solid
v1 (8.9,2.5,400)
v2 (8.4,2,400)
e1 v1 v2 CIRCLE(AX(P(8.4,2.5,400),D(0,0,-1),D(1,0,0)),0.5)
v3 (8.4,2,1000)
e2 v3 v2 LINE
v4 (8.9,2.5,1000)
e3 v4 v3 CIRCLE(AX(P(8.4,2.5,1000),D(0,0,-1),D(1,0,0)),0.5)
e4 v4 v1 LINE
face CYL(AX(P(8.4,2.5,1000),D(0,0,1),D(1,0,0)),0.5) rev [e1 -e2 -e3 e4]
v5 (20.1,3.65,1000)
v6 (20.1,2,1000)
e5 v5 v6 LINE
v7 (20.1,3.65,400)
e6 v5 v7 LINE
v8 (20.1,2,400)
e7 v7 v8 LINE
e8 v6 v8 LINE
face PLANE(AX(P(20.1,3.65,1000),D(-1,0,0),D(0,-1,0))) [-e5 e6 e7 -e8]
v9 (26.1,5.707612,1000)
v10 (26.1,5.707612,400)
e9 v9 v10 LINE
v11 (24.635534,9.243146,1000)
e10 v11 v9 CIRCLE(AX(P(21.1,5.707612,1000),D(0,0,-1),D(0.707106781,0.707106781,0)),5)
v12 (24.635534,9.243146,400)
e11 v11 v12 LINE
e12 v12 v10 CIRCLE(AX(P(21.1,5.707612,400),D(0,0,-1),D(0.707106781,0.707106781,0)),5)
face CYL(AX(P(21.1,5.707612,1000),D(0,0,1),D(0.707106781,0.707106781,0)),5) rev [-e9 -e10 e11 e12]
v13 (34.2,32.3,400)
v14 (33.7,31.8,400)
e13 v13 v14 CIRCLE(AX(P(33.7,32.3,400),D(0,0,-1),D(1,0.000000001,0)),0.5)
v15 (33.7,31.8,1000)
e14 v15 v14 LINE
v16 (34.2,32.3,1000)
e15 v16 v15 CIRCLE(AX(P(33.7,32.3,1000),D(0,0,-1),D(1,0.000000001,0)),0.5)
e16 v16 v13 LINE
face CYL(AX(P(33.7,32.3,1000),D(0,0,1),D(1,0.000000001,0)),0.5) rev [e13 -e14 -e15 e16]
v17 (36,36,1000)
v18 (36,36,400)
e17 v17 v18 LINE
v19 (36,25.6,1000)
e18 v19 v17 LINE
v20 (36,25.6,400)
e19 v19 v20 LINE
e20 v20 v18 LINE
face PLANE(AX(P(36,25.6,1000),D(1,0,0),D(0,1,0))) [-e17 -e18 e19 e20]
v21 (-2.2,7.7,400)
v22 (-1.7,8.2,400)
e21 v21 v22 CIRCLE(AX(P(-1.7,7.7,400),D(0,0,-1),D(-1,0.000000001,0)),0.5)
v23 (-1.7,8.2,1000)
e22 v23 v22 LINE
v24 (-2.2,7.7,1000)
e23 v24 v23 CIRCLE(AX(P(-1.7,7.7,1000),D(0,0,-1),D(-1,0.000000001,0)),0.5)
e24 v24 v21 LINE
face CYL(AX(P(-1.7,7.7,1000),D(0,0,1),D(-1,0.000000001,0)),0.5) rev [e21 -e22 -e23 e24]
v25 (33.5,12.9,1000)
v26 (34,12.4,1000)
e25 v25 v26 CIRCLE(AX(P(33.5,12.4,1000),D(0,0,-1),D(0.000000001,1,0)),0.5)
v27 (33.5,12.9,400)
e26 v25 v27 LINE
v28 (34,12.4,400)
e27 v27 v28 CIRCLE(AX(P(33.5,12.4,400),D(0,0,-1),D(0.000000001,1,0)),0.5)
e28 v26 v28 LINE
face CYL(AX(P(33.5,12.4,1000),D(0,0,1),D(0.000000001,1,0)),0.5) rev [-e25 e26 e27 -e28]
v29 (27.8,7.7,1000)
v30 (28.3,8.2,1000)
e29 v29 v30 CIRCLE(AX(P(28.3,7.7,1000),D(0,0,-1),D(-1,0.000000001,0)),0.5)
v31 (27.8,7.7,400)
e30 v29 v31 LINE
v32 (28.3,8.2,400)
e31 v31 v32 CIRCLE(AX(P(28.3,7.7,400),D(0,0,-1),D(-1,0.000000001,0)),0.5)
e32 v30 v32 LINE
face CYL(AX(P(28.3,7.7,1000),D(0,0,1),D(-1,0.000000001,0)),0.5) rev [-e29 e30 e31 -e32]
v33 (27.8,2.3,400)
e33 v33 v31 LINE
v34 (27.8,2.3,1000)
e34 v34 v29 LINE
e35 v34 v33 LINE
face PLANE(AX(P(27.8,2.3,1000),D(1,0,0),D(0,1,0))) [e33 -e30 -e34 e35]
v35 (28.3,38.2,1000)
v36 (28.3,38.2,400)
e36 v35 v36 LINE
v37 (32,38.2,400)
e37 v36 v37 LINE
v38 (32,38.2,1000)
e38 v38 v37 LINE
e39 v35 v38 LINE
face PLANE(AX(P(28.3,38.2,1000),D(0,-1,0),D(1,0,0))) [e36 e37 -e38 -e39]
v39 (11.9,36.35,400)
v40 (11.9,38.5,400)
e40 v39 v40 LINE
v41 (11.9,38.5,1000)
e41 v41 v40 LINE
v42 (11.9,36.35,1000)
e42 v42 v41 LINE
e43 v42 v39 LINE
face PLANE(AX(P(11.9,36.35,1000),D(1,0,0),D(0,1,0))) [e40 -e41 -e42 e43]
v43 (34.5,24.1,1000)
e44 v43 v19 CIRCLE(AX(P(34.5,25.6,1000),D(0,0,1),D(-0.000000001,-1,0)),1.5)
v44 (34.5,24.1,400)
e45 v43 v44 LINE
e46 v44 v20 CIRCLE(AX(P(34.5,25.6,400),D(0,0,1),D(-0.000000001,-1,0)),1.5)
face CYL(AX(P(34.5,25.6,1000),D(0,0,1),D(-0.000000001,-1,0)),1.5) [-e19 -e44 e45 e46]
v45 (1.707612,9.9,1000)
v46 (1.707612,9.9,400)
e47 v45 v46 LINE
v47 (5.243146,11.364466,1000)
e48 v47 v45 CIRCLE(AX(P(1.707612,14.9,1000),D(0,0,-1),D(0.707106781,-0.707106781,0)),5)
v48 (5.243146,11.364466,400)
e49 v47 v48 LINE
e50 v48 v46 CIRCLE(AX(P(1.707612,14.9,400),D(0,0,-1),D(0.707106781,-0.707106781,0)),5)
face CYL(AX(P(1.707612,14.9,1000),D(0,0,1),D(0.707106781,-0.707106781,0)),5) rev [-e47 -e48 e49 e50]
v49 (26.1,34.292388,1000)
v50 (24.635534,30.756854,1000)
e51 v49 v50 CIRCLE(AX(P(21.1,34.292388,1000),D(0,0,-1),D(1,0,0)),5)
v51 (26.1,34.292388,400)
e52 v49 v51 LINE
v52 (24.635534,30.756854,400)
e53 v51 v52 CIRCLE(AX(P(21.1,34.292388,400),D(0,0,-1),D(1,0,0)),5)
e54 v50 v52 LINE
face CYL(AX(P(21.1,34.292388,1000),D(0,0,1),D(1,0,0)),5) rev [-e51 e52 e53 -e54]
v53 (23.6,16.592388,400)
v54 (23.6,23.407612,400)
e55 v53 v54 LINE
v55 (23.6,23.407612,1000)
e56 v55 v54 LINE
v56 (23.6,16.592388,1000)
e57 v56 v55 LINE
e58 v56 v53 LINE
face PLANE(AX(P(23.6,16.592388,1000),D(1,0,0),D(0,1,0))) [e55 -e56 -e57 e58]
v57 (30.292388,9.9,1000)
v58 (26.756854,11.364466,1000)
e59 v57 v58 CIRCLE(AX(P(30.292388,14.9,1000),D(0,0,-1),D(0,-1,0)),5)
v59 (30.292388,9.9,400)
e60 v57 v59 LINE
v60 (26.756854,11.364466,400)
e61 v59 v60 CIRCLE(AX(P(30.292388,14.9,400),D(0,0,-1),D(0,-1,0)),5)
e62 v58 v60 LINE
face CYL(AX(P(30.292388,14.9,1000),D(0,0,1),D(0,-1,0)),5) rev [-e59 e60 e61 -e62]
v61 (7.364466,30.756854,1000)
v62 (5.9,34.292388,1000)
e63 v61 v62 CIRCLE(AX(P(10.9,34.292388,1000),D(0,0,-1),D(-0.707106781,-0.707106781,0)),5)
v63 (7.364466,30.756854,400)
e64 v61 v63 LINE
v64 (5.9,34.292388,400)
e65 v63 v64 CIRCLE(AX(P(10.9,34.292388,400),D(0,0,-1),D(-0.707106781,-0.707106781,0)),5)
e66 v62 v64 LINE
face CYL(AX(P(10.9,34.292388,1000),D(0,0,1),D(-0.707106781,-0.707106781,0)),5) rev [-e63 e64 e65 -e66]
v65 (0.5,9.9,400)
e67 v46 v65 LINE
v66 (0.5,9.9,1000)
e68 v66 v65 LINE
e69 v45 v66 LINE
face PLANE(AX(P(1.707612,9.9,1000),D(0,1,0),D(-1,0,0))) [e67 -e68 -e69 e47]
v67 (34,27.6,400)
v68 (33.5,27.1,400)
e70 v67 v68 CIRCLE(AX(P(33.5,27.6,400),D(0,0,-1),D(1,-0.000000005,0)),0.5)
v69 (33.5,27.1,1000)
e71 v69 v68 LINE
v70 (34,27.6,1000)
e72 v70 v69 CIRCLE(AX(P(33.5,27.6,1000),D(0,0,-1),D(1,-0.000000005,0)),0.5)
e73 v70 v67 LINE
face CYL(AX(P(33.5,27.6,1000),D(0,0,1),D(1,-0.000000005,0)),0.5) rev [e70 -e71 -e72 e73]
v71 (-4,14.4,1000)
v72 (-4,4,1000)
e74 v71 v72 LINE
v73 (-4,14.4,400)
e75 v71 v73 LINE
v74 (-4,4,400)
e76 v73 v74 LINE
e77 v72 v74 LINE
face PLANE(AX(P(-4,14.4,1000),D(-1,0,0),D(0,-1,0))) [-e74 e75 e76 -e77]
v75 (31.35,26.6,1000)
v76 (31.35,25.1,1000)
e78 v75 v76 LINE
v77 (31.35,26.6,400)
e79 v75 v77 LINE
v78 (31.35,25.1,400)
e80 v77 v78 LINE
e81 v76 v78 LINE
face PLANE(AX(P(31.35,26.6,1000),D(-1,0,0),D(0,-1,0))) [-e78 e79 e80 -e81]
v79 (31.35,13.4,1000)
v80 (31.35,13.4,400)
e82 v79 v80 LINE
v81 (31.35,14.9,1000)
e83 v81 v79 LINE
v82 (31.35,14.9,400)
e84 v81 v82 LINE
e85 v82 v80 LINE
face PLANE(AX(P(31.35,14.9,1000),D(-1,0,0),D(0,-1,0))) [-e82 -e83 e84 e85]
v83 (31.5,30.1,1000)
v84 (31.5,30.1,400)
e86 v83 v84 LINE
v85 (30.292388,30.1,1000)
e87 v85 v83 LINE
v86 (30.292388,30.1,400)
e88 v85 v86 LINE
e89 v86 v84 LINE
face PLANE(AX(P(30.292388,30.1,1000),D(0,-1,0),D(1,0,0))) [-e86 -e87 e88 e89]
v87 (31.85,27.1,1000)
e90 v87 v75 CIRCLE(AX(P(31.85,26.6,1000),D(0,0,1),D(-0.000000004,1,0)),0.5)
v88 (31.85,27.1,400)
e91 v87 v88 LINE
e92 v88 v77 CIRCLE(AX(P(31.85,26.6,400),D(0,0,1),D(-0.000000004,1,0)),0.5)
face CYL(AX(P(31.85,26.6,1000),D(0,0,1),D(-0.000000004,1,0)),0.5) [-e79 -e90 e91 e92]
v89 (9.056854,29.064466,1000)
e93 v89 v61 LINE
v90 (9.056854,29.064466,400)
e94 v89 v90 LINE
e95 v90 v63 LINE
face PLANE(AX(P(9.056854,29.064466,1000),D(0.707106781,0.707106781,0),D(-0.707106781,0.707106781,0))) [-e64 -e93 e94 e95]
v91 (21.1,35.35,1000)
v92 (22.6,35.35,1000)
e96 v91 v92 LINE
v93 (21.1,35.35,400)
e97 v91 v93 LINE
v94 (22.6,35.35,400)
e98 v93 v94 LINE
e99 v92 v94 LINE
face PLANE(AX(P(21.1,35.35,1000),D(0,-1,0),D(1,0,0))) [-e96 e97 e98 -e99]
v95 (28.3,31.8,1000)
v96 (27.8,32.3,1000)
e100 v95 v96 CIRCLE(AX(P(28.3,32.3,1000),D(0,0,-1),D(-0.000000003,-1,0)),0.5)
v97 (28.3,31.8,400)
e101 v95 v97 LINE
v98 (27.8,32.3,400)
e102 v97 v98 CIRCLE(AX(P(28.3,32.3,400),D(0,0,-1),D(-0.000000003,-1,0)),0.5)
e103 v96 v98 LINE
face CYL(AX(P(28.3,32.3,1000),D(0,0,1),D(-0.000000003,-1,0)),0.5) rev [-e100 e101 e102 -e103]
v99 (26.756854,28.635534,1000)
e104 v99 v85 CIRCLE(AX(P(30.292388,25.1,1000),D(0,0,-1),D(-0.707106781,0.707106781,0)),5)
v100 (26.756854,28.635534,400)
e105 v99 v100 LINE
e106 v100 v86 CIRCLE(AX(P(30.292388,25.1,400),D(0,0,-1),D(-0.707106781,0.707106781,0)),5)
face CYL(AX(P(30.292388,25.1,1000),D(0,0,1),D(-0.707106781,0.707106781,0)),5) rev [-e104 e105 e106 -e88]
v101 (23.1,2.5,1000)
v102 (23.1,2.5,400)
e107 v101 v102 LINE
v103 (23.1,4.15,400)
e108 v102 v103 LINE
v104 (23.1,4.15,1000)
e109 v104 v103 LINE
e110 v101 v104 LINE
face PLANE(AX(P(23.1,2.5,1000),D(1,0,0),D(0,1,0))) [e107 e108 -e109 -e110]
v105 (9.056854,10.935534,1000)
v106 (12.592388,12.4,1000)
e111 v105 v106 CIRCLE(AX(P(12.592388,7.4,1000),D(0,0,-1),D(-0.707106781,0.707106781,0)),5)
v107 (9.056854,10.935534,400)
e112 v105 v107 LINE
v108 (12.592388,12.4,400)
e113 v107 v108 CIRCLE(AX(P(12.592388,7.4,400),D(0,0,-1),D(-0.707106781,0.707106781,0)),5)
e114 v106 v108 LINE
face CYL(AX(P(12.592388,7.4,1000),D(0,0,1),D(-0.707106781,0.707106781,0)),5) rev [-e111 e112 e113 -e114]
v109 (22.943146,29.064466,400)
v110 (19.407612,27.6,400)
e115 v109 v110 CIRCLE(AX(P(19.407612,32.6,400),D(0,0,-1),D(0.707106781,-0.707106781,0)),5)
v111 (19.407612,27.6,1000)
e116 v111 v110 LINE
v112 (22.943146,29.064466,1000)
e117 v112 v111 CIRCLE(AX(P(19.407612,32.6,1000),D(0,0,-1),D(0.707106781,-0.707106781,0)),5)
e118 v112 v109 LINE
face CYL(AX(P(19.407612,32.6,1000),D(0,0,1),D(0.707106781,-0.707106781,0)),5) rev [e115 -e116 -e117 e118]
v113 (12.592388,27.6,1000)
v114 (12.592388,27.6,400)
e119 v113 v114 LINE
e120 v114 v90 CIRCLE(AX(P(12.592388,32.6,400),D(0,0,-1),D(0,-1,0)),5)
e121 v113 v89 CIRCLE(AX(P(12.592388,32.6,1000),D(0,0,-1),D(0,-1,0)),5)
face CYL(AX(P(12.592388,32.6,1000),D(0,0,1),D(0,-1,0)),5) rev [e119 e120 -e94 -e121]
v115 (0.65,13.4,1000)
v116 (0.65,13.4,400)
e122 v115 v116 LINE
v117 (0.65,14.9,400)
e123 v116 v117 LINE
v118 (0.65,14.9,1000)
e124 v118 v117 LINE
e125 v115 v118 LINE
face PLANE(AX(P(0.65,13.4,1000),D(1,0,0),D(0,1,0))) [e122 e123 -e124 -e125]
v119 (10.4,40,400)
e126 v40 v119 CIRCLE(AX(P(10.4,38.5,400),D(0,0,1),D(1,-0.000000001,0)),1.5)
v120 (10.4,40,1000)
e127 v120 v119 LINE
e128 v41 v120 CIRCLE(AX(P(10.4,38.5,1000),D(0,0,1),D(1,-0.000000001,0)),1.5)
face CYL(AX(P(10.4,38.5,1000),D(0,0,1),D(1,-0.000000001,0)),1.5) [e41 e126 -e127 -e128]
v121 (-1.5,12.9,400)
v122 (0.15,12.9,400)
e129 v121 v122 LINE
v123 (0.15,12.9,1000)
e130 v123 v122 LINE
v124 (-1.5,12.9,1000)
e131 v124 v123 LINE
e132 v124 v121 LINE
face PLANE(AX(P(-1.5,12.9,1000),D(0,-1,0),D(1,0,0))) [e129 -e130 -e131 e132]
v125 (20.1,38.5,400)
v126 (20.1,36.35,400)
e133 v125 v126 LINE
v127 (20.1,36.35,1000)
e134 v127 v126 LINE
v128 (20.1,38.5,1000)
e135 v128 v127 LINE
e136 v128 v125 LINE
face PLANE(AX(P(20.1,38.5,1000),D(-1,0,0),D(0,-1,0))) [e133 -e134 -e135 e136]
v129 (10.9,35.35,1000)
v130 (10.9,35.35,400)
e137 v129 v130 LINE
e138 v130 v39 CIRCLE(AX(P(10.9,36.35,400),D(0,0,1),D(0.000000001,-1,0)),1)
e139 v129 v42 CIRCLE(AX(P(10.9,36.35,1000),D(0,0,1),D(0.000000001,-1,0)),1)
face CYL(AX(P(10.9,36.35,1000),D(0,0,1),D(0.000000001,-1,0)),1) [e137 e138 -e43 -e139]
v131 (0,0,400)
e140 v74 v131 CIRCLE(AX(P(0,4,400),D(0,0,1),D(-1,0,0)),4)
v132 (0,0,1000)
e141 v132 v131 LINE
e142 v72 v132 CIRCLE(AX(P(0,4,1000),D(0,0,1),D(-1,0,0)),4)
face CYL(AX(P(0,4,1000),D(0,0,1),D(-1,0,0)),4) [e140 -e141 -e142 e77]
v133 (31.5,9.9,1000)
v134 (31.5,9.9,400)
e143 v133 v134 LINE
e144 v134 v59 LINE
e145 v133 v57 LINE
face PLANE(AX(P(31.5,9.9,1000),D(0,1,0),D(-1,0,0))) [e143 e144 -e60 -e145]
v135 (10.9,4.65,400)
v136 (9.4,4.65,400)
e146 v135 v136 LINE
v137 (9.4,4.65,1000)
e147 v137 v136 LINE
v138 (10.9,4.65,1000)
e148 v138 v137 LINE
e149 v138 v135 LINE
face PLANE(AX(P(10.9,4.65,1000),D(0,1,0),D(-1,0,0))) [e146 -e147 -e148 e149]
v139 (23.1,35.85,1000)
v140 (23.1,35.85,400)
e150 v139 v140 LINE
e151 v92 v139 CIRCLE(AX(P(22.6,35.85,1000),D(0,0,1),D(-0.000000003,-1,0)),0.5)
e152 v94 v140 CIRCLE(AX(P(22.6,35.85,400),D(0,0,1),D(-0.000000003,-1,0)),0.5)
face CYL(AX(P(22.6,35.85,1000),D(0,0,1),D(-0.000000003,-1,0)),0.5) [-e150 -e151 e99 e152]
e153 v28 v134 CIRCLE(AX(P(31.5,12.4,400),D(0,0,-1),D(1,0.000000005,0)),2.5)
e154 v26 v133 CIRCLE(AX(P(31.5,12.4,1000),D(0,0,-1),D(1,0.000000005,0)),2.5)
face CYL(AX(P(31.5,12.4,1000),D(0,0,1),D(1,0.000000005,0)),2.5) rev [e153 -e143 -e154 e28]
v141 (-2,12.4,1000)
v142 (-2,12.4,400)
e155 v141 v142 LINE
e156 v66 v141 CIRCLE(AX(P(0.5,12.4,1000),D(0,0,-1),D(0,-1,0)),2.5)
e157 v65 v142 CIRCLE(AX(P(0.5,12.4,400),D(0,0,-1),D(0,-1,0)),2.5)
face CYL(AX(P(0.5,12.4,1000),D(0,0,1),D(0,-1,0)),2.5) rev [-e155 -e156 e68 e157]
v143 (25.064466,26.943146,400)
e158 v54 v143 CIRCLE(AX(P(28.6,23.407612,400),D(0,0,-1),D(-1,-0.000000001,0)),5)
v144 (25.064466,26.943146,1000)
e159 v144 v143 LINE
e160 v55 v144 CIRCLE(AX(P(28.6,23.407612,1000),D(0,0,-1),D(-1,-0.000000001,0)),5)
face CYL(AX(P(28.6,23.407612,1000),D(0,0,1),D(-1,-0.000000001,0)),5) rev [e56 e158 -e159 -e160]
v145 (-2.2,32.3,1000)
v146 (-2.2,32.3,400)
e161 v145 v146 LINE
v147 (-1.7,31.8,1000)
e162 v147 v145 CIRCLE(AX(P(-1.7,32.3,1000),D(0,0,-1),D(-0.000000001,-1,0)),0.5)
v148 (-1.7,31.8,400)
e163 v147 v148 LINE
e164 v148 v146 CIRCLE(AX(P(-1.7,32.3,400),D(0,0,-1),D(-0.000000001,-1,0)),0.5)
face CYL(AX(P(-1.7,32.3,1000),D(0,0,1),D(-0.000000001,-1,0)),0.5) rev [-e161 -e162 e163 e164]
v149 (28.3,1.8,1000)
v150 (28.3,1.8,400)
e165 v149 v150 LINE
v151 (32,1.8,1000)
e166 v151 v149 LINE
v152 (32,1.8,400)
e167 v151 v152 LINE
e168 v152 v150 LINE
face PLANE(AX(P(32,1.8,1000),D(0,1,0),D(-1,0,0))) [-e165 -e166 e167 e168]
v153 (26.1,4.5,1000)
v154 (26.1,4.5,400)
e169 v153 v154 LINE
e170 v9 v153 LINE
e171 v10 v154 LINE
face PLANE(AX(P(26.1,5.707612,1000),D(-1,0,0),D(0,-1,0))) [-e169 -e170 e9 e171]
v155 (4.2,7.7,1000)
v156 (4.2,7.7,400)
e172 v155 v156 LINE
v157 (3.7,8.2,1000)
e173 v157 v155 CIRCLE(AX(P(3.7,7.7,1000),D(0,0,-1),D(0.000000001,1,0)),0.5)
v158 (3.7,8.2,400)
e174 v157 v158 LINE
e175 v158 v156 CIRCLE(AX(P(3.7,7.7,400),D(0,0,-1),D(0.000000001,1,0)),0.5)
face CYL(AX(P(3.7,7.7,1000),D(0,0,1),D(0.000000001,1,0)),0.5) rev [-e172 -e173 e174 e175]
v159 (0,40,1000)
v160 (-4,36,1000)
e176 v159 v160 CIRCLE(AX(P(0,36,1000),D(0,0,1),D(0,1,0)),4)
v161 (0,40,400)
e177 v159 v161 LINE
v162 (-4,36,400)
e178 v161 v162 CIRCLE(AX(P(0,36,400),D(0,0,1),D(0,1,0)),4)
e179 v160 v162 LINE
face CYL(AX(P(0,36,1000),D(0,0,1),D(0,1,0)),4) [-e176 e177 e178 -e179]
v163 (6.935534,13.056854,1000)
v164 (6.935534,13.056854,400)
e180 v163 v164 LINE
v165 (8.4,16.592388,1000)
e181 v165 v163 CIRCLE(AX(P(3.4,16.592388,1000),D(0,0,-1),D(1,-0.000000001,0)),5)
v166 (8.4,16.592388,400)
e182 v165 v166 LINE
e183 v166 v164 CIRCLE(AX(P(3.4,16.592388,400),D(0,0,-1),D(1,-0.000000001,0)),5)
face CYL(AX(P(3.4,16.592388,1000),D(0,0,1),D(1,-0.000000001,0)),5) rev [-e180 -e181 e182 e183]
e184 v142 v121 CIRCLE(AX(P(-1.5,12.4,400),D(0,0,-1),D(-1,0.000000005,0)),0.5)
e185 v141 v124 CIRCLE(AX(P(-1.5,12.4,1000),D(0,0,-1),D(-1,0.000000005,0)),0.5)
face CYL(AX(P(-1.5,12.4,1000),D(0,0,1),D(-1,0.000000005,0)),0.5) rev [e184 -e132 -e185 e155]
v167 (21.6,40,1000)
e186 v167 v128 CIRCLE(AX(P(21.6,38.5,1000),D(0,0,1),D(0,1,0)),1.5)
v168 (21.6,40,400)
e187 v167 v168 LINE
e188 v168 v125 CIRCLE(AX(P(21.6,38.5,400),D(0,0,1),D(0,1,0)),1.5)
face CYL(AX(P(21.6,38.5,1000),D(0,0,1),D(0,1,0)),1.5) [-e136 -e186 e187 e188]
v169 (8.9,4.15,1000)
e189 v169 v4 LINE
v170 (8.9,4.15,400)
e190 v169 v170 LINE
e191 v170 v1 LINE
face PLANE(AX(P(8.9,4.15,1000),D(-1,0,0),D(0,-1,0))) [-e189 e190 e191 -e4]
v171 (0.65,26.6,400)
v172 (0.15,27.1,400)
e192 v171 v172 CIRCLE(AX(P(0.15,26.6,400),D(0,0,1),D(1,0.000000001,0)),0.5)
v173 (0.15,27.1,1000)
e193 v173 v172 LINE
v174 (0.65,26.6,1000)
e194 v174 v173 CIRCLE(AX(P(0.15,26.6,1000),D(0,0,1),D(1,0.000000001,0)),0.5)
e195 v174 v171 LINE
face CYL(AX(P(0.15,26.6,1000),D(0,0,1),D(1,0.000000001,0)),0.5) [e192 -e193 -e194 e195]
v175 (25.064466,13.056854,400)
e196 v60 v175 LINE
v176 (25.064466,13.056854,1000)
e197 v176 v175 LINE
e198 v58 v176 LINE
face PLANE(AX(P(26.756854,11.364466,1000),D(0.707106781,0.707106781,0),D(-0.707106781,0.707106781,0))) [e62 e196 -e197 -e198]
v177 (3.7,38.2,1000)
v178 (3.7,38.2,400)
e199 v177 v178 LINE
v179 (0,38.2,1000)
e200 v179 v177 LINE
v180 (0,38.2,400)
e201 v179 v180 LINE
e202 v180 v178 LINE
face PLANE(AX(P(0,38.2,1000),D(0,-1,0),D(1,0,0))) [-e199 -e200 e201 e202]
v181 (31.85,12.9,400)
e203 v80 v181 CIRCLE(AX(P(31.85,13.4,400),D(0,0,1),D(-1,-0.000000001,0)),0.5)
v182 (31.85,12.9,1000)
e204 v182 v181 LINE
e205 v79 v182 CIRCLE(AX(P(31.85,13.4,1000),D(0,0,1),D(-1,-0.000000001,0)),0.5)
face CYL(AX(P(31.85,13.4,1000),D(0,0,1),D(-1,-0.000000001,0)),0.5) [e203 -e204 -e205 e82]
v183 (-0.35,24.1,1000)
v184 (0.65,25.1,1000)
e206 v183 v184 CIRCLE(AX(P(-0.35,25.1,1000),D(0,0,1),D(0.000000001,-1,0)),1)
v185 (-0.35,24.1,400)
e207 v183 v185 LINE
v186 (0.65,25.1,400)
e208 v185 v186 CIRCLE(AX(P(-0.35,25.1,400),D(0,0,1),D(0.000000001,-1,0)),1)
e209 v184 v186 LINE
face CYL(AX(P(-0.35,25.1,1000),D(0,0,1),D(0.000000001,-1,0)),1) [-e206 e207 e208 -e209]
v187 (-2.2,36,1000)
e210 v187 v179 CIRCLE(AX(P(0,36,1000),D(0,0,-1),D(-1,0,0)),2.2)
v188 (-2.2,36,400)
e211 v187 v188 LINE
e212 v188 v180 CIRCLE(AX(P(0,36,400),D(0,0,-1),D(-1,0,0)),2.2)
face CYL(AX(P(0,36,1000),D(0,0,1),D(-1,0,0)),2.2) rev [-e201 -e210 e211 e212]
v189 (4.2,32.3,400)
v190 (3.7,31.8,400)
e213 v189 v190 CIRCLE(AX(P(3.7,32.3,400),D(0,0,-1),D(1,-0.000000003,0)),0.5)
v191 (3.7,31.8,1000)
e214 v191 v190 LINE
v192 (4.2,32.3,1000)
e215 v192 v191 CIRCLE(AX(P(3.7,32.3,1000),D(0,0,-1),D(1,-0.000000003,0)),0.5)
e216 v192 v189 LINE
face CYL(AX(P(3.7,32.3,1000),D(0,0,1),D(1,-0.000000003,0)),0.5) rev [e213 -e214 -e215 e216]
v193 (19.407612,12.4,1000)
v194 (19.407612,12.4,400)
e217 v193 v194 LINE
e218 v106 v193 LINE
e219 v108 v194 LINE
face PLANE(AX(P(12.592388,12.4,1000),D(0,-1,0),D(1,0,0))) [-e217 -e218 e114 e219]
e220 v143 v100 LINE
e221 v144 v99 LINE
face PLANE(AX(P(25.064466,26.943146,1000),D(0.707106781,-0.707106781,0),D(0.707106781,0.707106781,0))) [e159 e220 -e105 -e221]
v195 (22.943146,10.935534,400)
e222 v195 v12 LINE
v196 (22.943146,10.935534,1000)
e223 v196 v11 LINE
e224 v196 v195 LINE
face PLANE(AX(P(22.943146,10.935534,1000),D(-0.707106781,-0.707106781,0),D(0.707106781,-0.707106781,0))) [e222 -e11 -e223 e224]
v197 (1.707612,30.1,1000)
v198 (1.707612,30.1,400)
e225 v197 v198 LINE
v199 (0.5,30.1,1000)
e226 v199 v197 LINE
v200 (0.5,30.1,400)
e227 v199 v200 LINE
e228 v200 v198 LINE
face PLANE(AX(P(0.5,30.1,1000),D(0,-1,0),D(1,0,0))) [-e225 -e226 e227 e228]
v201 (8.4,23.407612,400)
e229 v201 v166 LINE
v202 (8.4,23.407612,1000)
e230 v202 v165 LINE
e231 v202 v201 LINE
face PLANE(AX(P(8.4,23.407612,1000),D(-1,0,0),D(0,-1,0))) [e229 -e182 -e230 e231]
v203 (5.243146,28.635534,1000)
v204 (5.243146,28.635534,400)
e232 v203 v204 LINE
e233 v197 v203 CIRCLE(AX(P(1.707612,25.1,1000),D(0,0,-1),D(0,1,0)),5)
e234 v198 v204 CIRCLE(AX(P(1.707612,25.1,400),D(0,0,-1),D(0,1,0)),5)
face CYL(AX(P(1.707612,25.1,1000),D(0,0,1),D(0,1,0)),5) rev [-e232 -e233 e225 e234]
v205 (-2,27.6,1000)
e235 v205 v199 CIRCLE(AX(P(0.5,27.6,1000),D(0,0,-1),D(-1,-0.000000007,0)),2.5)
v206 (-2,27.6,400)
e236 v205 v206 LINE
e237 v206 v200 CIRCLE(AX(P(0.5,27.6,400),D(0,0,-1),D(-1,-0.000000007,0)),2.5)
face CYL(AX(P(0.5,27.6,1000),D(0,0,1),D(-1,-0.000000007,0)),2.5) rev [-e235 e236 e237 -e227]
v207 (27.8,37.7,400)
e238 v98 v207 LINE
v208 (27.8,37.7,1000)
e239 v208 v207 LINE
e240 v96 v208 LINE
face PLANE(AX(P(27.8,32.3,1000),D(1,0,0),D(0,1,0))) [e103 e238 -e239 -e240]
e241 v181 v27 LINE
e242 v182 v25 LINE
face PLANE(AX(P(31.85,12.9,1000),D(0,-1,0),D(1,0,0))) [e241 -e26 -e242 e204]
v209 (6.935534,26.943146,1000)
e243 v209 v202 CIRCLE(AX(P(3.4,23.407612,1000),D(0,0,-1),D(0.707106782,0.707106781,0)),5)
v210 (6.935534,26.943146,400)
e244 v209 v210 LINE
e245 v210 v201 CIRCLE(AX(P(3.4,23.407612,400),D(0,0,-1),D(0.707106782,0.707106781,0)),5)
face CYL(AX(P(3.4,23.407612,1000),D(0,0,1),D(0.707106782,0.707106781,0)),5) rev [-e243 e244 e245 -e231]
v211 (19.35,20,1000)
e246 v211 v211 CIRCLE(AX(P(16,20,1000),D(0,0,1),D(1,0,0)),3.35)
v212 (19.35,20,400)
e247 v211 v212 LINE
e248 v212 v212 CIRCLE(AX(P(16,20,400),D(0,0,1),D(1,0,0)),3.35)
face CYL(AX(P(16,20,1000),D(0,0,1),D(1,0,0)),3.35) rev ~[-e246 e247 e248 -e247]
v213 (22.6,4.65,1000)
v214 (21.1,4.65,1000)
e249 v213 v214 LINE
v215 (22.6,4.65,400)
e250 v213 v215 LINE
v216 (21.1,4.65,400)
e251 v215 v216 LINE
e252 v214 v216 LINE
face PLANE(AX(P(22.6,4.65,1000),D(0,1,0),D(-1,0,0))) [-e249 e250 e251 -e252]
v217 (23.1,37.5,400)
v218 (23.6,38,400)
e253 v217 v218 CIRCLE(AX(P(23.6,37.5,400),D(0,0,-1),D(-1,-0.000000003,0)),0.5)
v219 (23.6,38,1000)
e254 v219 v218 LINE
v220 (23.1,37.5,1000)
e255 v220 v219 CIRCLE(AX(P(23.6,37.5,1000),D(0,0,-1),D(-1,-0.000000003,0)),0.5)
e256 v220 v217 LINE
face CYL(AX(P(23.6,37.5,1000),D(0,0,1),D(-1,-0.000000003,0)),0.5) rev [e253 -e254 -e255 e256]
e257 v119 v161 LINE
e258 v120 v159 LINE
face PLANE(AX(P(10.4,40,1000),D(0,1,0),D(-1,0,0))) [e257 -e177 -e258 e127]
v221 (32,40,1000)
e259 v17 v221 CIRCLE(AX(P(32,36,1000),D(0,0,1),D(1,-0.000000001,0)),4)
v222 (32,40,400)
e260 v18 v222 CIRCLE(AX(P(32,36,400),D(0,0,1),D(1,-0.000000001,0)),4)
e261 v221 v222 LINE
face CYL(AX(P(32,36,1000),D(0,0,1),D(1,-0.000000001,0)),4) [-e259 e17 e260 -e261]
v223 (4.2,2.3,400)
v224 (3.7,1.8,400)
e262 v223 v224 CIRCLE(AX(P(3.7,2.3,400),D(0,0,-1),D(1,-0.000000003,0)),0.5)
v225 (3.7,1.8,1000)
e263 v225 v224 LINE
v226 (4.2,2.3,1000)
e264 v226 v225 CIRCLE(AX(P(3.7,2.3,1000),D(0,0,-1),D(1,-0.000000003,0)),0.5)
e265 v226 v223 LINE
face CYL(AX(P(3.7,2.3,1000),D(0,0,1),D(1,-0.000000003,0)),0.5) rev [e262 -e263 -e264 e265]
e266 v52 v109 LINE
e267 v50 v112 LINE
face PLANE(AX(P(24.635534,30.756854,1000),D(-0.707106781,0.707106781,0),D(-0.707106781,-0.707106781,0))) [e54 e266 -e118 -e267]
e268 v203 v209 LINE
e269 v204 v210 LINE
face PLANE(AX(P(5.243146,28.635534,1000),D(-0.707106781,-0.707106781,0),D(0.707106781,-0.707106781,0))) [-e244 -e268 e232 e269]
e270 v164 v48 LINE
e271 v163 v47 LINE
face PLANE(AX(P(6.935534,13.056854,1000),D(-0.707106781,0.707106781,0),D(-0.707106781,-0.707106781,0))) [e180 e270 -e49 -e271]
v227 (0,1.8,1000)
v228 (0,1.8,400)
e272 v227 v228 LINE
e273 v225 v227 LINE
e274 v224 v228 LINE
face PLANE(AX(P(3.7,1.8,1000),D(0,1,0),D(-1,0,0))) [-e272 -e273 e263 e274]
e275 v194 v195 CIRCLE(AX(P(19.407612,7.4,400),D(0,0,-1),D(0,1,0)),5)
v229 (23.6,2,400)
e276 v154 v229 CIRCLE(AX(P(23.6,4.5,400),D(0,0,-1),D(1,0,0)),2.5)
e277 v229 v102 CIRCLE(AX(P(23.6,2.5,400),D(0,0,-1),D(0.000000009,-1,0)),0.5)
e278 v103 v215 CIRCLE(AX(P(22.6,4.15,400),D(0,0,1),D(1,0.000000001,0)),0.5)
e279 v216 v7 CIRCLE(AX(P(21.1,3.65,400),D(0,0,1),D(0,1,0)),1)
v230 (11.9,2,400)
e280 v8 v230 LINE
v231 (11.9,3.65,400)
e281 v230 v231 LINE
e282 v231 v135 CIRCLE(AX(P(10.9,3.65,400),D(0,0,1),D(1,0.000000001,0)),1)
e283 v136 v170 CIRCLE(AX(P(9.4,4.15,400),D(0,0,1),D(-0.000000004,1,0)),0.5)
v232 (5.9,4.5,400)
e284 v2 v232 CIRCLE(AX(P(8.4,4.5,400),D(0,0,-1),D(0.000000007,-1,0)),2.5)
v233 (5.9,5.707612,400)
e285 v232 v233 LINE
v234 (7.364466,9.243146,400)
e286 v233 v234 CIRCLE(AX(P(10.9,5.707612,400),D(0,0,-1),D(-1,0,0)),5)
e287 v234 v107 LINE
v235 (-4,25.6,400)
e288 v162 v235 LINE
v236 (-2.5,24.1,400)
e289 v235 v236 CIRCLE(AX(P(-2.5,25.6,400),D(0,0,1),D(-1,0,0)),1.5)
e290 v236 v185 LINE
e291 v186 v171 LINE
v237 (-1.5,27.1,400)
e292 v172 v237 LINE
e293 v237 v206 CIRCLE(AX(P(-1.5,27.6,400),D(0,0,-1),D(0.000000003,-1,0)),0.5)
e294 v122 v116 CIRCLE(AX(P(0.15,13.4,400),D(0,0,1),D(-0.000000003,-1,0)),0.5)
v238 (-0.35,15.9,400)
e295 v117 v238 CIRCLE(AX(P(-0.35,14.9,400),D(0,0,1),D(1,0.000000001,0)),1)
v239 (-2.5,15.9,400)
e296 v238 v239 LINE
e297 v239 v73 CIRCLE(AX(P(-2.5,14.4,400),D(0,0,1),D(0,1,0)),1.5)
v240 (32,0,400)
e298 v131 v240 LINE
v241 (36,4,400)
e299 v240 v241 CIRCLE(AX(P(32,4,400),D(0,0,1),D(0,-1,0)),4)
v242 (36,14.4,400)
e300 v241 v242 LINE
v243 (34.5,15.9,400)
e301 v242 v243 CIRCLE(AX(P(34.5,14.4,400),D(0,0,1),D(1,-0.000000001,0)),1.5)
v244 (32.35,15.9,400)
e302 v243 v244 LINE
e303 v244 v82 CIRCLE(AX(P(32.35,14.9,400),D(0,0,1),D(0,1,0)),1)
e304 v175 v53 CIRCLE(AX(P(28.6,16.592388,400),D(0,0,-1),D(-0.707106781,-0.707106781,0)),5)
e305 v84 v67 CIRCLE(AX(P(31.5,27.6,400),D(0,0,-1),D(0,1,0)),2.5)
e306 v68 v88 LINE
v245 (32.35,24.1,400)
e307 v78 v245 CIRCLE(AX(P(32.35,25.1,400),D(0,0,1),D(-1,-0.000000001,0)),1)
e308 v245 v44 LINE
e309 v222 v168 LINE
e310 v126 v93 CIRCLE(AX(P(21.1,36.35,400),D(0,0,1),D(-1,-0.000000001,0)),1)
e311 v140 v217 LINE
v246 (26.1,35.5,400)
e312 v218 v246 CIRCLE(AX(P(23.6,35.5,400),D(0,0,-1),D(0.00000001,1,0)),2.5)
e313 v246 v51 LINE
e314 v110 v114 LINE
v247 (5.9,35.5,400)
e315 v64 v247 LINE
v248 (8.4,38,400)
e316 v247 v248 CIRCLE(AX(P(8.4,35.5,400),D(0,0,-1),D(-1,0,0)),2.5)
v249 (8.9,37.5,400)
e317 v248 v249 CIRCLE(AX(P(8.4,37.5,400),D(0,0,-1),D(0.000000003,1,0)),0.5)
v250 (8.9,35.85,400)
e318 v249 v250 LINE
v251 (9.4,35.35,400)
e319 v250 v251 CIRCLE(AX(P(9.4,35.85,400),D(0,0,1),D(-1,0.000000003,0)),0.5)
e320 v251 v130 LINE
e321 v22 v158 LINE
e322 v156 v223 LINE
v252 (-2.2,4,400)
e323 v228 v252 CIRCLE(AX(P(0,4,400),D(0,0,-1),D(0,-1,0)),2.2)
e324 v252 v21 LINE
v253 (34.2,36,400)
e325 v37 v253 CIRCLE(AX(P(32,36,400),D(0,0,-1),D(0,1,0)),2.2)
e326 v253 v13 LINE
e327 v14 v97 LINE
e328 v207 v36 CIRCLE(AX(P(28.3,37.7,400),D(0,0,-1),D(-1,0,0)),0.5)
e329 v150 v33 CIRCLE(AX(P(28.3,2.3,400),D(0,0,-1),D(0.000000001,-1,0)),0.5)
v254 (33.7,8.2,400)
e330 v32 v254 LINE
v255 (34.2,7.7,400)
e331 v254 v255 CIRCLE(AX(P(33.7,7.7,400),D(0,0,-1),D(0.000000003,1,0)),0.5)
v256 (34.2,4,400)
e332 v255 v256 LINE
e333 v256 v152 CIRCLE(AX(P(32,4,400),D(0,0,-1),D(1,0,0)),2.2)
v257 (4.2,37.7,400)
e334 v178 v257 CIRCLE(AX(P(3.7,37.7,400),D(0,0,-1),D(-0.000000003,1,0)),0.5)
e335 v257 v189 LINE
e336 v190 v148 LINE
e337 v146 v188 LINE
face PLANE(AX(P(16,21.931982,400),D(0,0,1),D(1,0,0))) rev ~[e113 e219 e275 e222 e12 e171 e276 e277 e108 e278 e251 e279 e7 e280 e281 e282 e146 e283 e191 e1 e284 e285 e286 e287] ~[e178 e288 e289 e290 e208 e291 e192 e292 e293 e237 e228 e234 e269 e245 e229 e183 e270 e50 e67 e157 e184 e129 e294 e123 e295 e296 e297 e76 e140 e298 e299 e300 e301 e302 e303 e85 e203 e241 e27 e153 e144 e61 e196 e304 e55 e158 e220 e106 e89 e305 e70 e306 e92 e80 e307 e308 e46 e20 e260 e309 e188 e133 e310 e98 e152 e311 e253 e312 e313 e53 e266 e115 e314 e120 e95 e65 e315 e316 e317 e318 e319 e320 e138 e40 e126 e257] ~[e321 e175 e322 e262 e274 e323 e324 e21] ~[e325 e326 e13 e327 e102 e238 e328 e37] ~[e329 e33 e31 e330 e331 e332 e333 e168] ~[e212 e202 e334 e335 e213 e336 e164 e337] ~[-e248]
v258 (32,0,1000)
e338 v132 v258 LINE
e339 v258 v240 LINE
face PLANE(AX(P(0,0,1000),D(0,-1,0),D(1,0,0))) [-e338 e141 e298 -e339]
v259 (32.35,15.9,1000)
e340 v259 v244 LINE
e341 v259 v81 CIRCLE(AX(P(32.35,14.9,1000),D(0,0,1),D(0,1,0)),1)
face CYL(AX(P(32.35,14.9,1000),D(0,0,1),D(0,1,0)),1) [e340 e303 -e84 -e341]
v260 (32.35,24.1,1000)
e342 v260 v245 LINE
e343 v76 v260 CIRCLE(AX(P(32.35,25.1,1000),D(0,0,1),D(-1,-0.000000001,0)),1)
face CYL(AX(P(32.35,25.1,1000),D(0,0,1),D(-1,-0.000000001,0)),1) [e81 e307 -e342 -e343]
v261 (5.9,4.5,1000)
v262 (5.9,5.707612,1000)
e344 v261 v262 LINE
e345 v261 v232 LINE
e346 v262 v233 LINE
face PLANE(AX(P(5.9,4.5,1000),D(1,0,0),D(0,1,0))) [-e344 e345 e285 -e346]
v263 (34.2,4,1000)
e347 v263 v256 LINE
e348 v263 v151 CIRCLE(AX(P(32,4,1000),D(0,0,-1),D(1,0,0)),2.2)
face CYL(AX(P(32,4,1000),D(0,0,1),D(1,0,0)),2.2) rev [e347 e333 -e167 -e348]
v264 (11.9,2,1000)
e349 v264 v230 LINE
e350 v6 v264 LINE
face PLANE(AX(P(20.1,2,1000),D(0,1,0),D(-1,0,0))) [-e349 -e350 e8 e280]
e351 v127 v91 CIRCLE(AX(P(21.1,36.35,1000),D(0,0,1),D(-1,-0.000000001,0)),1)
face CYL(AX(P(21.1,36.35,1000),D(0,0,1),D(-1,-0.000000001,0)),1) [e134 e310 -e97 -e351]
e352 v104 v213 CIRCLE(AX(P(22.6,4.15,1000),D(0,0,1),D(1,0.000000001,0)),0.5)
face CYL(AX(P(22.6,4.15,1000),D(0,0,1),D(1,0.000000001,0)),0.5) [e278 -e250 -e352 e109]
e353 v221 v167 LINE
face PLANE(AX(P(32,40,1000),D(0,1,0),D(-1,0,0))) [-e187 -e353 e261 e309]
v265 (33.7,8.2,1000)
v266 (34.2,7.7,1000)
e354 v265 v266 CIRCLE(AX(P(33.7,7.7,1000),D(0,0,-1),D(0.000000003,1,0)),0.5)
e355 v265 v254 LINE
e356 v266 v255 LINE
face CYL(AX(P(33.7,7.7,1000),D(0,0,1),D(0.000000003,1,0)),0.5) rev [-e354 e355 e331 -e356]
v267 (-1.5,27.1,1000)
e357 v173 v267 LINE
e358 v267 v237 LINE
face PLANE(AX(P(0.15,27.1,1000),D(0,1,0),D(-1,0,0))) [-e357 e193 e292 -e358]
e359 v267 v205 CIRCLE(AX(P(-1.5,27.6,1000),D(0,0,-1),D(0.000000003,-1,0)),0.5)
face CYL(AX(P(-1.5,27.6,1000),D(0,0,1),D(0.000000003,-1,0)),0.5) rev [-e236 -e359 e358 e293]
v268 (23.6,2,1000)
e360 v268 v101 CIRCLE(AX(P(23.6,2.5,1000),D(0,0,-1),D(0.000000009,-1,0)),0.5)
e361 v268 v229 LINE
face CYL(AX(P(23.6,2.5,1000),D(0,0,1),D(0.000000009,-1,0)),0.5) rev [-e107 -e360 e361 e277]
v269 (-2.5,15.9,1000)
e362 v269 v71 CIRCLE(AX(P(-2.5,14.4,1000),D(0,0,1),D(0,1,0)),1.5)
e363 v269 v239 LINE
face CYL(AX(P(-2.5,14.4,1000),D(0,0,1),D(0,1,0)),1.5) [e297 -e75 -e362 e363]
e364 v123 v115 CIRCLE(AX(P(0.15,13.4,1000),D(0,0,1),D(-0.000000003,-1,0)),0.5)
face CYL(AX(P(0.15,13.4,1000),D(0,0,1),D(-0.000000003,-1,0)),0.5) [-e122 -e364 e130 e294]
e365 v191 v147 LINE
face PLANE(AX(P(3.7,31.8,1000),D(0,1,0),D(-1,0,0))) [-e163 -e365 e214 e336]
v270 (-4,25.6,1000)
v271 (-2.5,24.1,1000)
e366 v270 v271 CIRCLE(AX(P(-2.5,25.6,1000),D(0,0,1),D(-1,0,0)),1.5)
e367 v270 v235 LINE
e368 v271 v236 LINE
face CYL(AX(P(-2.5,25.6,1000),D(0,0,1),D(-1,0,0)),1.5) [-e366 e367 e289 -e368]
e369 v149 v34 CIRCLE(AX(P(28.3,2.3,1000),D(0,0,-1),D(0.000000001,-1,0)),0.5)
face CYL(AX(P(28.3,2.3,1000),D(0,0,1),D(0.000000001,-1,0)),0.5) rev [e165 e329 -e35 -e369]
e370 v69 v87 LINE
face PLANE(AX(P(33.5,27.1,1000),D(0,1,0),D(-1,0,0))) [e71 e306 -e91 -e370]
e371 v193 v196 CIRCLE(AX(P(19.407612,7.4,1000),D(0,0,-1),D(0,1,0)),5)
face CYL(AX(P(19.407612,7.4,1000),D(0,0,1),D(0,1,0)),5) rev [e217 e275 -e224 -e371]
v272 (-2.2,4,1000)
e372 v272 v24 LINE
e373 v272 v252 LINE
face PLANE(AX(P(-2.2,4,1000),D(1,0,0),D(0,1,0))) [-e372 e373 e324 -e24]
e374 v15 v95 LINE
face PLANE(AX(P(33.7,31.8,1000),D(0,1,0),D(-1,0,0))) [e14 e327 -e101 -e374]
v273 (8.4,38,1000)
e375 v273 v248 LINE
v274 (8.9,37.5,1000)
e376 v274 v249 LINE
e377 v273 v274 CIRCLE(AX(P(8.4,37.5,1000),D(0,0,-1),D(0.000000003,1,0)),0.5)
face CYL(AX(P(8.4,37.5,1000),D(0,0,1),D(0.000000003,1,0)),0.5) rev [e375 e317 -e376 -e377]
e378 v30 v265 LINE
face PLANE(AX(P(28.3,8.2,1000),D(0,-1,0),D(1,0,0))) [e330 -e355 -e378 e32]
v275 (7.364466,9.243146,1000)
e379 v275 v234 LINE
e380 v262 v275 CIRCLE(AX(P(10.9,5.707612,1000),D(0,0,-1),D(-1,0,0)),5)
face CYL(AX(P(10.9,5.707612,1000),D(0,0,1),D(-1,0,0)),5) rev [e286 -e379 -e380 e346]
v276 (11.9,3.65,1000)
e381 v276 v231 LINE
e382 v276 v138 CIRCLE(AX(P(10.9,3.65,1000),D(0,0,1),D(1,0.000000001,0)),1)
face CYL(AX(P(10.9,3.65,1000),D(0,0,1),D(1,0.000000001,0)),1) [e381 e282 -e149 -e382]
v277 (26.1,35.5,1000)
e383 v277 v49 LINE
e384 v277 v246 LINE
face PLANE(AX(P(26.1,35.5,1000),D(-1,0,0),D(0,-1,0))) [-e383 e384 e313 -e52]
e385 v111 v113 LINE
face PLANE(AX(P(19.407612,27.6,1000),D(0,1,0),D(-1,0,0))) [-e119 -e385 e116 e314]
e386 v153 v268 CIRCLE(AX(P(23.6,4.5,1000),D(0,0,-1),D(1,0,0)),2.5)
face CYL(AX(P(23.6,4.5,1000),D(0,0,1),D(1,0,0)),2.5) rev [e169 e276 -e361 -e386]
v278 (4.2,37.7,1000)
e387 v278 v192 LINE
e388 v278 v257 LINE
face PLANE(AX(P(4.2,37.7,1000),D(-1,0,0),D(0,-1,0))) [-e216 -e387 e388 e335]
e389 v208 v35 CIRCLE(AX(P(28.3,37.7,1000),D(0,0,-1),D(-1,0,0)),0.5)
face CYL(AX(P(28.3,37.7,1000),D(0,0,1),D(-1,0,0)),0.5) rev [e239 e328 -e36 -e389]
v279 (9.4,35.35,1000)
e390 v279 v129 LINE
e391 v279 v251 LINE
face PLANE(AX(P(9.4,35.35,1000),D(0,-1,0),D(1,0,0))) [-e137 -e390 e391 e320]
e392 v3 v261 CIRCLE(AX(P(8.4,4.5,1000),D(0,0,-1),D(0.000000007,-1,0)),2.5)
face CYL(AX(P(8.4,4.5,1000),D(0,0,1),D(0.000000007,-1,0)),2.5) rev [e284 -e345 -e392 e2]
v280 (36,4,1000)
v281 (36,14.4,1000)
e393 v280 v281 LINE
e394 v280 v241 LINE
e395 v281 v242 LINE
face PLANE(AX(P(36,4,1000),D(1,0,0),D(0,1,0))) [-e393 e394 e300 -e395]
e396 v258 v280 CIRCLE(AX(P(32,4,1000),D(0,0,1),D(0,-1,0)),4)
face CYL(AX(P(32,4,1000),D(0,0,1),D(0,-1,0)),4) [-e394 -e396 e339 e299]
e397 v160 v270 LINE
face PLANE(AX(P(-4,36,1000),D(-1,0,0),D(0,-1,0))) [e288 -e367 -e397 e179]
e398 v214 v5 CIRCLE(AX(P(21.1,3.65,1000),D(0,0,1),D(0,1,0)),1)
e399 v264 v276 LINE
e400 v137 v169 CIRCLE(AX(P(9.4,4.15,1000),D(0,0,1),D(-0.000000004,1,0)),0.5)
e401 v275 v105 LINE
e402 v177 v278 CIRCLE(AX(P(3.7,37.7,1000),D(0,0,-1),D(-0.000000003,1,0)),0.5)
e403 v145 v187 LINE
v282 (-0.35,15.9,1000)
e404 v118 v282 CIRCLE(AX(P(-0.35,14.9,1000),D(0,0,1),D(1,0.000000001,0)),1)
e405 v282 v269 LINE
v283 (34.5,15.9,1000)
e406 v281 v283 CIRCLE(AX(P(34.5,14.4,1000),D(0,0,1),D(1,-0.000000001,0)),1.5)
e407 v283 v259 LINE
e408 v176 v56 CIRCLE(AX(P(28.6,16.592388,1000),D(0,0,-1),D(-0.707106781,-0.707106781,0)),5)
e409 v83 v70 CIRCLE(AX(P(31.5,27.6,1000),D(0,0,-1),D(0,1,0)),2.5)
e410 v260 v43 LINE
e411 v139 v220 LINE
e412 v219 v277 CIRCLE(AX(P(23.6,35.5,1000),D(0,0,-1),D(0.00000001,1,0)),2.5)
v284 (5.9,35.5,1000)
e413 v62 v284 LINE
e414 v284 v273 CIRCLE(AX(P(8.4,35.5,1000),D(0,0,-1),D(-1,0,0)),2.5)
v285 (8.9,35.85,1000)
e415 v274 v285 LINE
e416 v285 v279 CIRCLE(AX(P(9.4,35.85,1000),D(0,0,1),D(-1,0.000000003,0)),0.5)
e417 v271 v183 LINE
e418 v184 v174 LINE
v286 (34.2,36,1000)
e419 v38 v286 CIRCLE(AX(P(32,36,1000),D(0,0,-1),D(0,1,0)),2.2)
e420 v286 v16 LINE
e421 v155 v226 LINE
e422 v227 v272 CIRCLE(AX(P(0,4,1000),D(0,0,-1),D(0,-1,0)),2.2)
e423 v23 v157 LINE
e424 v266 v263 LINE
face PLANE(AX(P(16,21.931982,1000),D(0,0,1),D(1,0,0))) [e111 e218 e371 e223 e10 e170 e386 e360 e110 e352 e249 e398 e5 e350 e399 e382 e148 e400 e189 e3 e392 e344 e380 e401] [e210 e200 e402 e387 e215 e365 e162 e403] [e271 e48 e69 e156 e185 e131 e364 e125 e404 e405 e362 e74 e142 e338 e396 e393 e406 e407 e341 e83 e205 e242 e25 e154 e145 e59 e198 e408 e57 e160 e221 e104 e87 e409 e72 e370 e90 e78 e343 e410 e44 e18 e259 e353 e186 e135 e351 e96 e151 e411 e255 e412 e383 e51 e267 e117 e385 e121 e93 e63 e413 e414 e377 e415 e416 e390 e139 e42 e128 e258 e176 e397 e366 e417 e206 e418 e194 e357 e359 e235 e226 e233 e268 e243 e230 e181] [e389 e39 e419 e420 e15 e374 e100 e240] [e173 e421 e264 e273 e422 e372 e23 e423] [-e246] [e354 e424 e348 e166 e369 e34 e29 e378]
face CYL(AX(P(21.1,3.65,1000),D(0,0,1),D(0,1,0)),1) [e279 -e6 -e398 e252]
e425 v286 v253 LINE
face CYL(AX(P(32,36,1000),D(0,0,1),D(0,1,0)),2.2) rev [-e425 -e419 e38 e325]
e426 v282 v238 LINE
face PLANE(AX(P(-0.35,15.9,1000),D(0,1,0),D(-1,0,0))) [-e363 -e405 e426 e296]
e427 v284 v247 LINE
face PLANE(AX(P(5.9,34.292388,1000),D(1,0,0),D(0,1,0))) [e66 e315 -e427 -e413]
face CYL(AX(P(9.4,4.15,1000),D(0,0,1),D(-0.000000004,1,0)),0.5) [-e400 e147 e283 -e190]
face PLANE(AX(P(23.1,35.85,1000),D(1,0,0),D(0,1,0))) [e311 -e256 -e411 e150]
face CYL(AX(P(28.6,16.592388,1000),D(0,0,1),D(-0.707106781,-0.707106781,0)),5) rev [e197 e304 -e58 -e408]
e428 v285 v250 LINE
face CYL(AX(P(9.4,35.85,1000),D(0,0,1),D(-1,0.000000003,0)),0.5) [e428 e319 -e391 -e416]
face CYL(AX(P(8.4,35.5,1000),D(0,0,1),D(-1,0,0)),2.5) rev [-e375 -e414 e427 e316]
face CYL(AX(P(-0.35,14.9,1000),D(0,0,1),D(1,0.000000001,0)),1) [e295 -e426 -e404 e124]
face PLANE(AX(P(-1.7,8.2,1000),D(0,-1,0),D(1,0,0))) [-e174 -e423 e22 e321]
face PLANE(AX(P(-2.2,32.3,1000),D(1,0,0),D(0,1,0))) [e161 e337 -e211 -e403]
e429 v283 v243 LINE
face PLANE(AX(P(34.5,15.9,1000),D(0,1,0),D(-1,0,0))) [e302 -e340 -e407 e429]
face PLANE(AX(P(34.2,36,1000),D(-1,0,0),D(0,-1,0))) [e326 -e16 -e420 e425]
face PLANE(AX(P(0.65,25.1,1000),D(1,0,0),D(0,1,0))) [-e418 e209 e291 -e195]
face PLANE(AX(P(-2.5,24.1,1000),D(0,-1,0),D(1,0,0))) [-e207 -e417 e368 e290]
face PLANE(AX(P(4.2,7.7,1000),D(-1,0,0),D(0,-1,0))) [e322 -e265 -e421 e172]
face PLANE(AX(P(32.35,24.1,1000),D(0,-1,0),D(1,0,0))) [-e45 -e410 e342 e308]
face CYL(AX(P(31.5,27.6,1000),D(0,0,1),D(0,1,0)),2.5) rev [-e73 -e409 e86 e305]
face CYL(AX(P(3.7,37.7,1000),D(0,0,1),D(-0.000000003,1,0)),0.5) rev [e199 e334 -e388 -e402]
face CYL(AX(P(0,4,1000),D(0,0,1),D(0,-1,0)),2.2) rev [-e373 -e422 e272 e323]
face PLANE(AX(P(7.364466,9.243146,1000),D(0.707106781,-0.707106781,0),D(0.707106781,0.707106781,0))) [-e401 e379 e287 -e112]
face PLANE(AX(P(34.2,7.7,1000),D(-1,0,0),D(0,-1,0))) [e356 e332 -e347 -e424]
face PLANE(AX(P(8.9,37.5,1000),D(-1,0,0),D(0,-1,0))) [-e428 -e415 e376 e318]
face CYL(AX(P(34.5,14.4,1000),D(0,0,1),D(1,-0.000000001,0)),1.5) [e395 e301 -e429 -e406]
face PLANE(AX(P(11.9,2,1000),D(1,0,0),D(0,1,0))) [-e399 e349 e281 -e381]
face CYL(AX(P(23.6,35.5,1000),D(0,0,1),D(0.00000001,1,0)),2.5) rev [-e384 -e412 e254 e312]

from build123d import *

# Parameters (mm, degrees)
SKIZZE1_R                       = 3.35
AUFSATZ_LINEAR_AUSTRAGEN1_DEPTH = 600


with BuildPart() as part:
    # Skizze1 → Aufsatz-Linear austragen1 (new body)
    with BuildSketch(Plane.XY.offset(1000)):
        with BuildLine():
            Line((5.899999985, 34.292388165), (5.899999985, 35.500000003))
            ThreePointArc((5.899999985, 35.500000003), (6.632233037, 37.267766961), (8.399999999, 38.000000003))
            ThreePointArc((8.399999999, 38.000000003), (8.753553388, 37.853553393), (8.899999996, 37.500000003))
            Line((8.899999996, 37.500000003), (8.899999996, 35.850000004))
            ThreePointArc((8.899999996, 35.850000004), (9.046446605, 35.496446613), (9.399999996, 35.350000004))
            Line((9.399999996, 35.350000004), (10.899999947, 35.350000004))
            ThreePointArc((10.899999947, 35.350000004), (11.607106728, 35.642893223), (11.899999947, 36.350000004))
            Line((11.899999947, 36.350000004), (11.899999947, 38.500000016))
            ThreePointArc((11.899999947, 38.500000016), (11.460660119, 39.560660188), (10.399999947, 40.000000016))
            Line((10.399999947, 40.000000016), (5.2e-08, 40.000000016))
            ThreePointArc((5.2e-08, 40.000000016), (-2.828427117, 38.828427123), (-4.000000011, 35.999999954))
            Line((-4.000000011, 35.999999954), (-4.000000011, 25.599999996))
            ThreePointArc((-4.000000011, 25.599999996), (-3.560660183, 24.539339825), (-2.500000012, 24.099999997))
            Line((-2.500000012, 24.099999997), (-0.350000011, 24.099999997))
            ThreePointArc((-0.350000011, 24.099999997), (0.35710677, 24.392893216), (0.649999989, 25.099999997))
            Line((0.649999989, 25.099999997), (0.649999989, 26.599999997))
            ThreePointArc((0.649999989, 26.599999997), (0.50355338, 26.953553387), (0.149999989, 27.099999997))
            Line((0.149999989, 27.099999997), (-1.500000011, 27.099999997))
            ThreePointArc((-1.500000011, 27.099999997), (-1.853553401, 27.246446605), (-2.000000011, 27.599999993))
            ThreePointArc((-2.000000011, 27.599999993), (-1.26776697, 29.367766957), (0.499999989, 30.10000001))
            Line((0.499999989, 30.10000001), (1.707611833, 30.10000001))
            ThreePointArc((1.707611833, 30.10000001), (3.621028995, 29.719397673), (5.243145739, 28.635533916))
            Line((5.243145739, 28.635533916), (6.935533894, 26.943145761))
            ThreePointArc((6.935533894, 26.943145761), (8.01939765, 25.321029017), (8.399999988, 23.407611855))
            Line((8.399999988, 23.407611855), (8.399999988, 16.592388122))
            ThreePointArc((8.399999988, 16.592388122), (8.01939765, 14.678970961), (6.935533894, 13.056854217))
            Line((6.935533894, 13.056854217), (5.243145737, 11.36446606))
            ThreePointArc((5.243145737, 11.36446606), (3.621028993, 10.280602303), (1.707611831, 9.899999966))
            Line((1.707611831, 9.899999966), (0.49999999, 9.899999966))
            ThreePointArc((0.49999999, 9.899999966), (-1.267766968, 10.632233018), (-2.00000001, 12.399999979))
            ThreePointArc((-2.00000001, 12.399999979), (-1.8535534, 12.753553368), (-1.50000001, 12.899999977))
            Line((-1.50000001, 12.899999977), (0.149999989, 12.899999977))
            ThreePointArc((0.149999989, 12.899999977), (0.50355338, 13.046446586), (0.649999989, 13.399999977))
            Line((0.649999989, 13.399999977), (0.649999989, 14.899999976))
            ThreePointArc((0.649999989, 14.899999976), (0.35710677, 15.607106757), (-0.350000011, 15.899999976))
            Line((-0.350000011, 15.899999976), (-2.50000001, 15.899999976))
            ThreePointArc((-2.50000001, 15.899999976), (-3.560660182, 15.460660148), (-4.000000011, 14.399999976))
            Line((-4.000000011, 14.399999976), (-4.000000011, 4.000000069))
            ThreePointArc((-4.000000011, 4.000000069), (-2.828427121, 1.171572909), (4e-08, 1.9e-08))
            Line((4e-08, 1.9e-08), (31.999999925, 1.9e-08))
            ThreePointArc((31.999999925, 1.9e-08), (34.828427086, 1.171572909), (35.999999976, 4.00000007))
            Line((35.999999976, 4.00000007), (35.999999976, 14.399999977))
            ThreePointArc((35.999999976, 14.399999977), (35.560660149, 15.460660148), (34.499999978, 15.899999976))
            Line((34.499999978, 15.899999976), (32.349999991, 15.899999976))
            ThreePointArc((32.349999991, 15.899999976), (31.642893209, 15.607106757), (31.34999999, 14.899999976))
            Line((31.34999999, 14.899999976), (31.34999999, 13.399999977))
            ThreePointArc((31.34999999, 13.399999977), (31.4964466, 13.046446586), (31.84999999, 12.899999977))
            Line((31.84999999, 12.899999977), (33.499999991, 12.899999977))
            ThreePointArc((33.499999991, 12.899999977), (33.853553381, 12.753553368), (33.999999991, 12.399999979))
            ThreePointArc((33.999999991, 12.399999979), (33.267766949, 10.632233018), (31.499999991, 9.899999966))
            Line((31.499999991, 9.899999966), (30.292388185, 9.899999966))
            ThreePointArc((30.292388185, 9.899999966), (28.378971023, 10.280602303), (26.756854279, 11.36446606))
            Line((26.756854279, 11.36446606), (25.064466082, 13.056854257))
            ThreePointArc((25.064466082, 13.056854257), (23.980602325, 14.678971001), (23.599999988, 16.592388163))
            Line((23.599999988, 16.592388163), (23.599999988, 23.407611842))
            ThreePointArc((23.599999988, 23.407611842), (23.980602325, 25.321029004), (25.064466082, 26.943145747))
            Line((25.064466082, 26.943145747), (26.75685425, 28.635533916))
            ThreePointArc((26.75685425, 28.635533916), (28.378970995, 29.719397673), (30.292388156, 30.10000001))
            Line((30.292388156, 30.10000001), (31.499999989, 30.10000001))
            ThreePointArc((31.499999989, 30.10000001), (33.267766948, 29.367766957), (33.999999989, 27.599999993))
            ThreePointArc((33.999999989, 27.599999993), (33.853553379, 27.246446605), (33.499999989, 27.099999997))
            Line((33.499999989, 27.099999997), (31.84999999, 27.099999997))
            ThreePointArc((31.84999999, 27.099999997), (31.4964466, 26.953553387), (31.34999999, 26.599999997))
            Line((31.34999999, 26.599999997), (31.34999999, 25.099999997))
            ThreePointArc((31.34999999, 25.099999997), (31.642893209, 24.392893216), (32.34999999, 24.099999997))
            Line((32.34999999, 24.099999997), (34.499999976, 24.099999997))
            ThreePointArc((34.499999976, 24.099999997), (35.560660148, 24.539339825), (35.999999976, 25.599999997))
            Line((35.999999976, 25.599999997), (35.999999976, 35.999999953))
            ThreePointArc((35.999999976, 35.999999953), (34.828427083, 38.828427123), (31.999999914, 40.000000016))
            Line((31.999999914, 40.000000016), (21.600000015, 40.000000016))
            ThreePointArc((21.600000015, 40.000000016), (20.539339844, 39.560660188), (20.100000016, 38.500000017))
            Line((20.100000016, 38.500000017), (20.100000016, 36.350000004))
            ThreePointArc((20.100000016, 36.350000004), (20.392893235, 35.642893223), (21.100000017, 35.350000004))
            Line((21.100000017, 35.350000004), (22.600000014, 35.350000004))
            ThreePointArc((22.600000014, 35.350000004), (22.953553405, 35.496446613), (23.100000014, 35.850000004))
            Line((23.100000014, 35.850000004), (23.100000014, 37.500000007))
            ThreePointArc((23.100000014, 37.500000007), (23.246446625, 37.8535534), (23.600000019, 38.000000007))
            ThreePointArc((23.600000019, 38.000000007), (25.367766955, 37.267766951), (26.099999992, 35.500000007))
            Line((26.099999992, 35.500000007), (26.099999992, 34.292388127))
            ThreePointArc((26.099999992, 34.292388127), (25.719397655, 32.378970966), (24.635533898, 30.756854221))
            Line((24.635533898, 30.756854221), (22.943145779, 29.064466103))
            ThreePointArc((22.943145779, 29.064466103), (21.321029035, 27.980602346), (19.407611873, 27.600000009))
            Line((19.407611873, 27.600000009), (12.592388142, 27.600000009))
            ThreePointArc((12.592388142, 27.600000009), (10.678970981, 27.980602346), (9.056854237, 29.064466102))
            Line((9.056854237, 29.064466102), (7.36446608, 30.75685426))
            ThreePointArc((7.36446608, 30.75685426), (6.280602323, 32.378971004), (5.899999985, 34.292388165))
        make_face()
        with Locations((15.999999985, 20)):
            Circle(SKIZZE1_R, mode=Mode.SUBTRACT)
        with BuildLine():
            Line((27.799999996, 32.299999708), (27.799999996, 37.700000083))
            ThreePointArc((27.799999996, 37.700000083), (27.946446591, 38.053553439), (28.299999947, 38.200000034))
            Line((28.299999947, 38.200000034), (31.999999914, 38.200000034))
            ThreePointArc((31.999999914, 38.200000034), (33.555634889, 37.555634929), (34.199999994, 35.999999953))
            Line((34.199999994, 35.999999953), (34.199999994, 32.300000046))
            ThreePointArc((34.199999994, 32.300000046), (34.053553382, 31.946446648), (33.699999983, 31.800000035))
            Line((33.699999983, 31.800000035), (28.299999669, 31.800000035))
            ThreePointArc((28.299999669, 31.800000035), (27.94644651, 31.946446549), (27.799999996, 32.299999708))
        make_face(mode=Mode.SUBTRACT)
        with BuildLine():
            Line((28.299999669, 8.199999998), (33.700000043, 8.199999998))
            ThreePointArc((33.700000043, 8.199999998), (34.053553399, 8.053553402), (34.199999994, 7.700000046))
            Line((34.199999994, 7.700000046), (34.199999994, 4.00000007))
            ThreePointArc((34.199999994, 4.00000007), (33.555634893, 2.444365103), (31.999999925, 1.800000001))
            Line((31.999999925, 1.800000001), (28.300000007, 1.800000001))
            ThreePointArc((28.300000007, 1.800000001), (27.946446609, 1.946446613), (27.799999996, 2.300000012))
            Line((27.799999996, 2.300000012), (27.799999996, 7.700000324))
            ThreePointArc((27.799999996, 7.700000324), (27.94644651, 8.053553484), (28.299999669, 8.199999998))
        make_face(mode=Mode.SUBTRACT)
        with BuildLine():
            Line((3.700000285, 31.800000035), (-1.700000077, 31.800000035))
            ThreePointArc((-1.700000077, 31.800000035), (-2.053553433, 31.94644663), (-2.200000029, 32.299999986))
            Line((-2.200000029, 32.299999986), (-2.200000029, 35.999999954))
            ThreePointArc((-2.200000029, 35.999999954), (-1.555634924, 37.555634929), (5.2e-08, 38.200000034))
            Line((5.2e-08, 38.200000034), (3.699999947, 38.200000034))
            ThreePointArc((3.699999947, 38.200000034), (4.053553346, 38.053553422), (4.199999959, 37.700000023))
            Line((4.199999959, 37.700000023), (4.199999959, 32.299999708))
            ThreePointArc((4.199999959, 32.299999708), (4.053553445, 31.946446549), (3.700000285, 31.800000035))
        make_face(mode=Mode.SUBTRACT)
        with BuildLine():
            Line((4.199999959, 7.700000324), (4.199999959, 2.299999952))
            ThreePointArc((4.199999959, 2.299999952), (4.053553363, 1.946446596), (3.700000007, 1.800000001))
            Line((3.700000007, 1.800000001), (4e-08, 1.800000001))
            ThreePointArc((4e-08, 1.800000001), (-1.555634927, 2.444365102), (-2.200000029, 4.000000069))
            Line((-2.200000029, 4.000000069), (-2.200000029, 7.699999986))
            ThreePointArc((-2.200000029, 7.699999986), (-2.053553416, 8.053553385), (-1.700000017, 8.199999998))
            Line((-1.700000017, 8.199999998), (3.700000285, 8.199999998))
            ThreePointArc((3.700000285, 8.199999998), (4.053553445, 8.053553484), (4.199999959, 7.700000324))
        make_face(mode=Mode.SUBTRACT)
        with BuildLine():
            Line((20.100000016, 2.000000008), (11.899999947, 2.000000008))
            Line((11.899999947, 2.000000008), (11.899999947, 3.649999992))
            ThreePointArc((11.899999947, 3.649999992), (11.607106728, 4.357106773), (10.899999947, 4.649999992))
            Line((10.899999947, 4.649999992), (9.399999996, 4.649999992))
            ThreePointArc((9.399999996, 4.649999992), (9.046446606, 4.503553382), (8.899999996, 4.149999992))
            Line((8.899999996, 4.149999992), (8.899999996, 2.499999991))
            ThreePointArc((8.899999996, 2.499999991), (8.753553389, 2.146446604), (8.400000003, 1.999999994))
            ThreePointArc((8.400000003, 1.999999994), (6.632233039, 2.732233035), (5.899999985, 4.499999994))
            Line((5.899999985, 4.499999994), (5.899999985, 5.707611838))
            ThreePointArc((5.899999985, 5.707611838), (6.280602323, 7.621029001), (7.36446608, 9.243145746))
            Line((7.36446608, 9.243145746), (9.056854238, 10.935533903))
            ThreePointArc((9.056854238, 10.935533903), (10.678970982, 12.01939766), (12.592388143, 12.399999997))
            Line((12.592388143, 12.399999997), (19.407611847, 12.399999997))
            ThreePointArc((19.407611847, 12.399999997), (21.321029008, 12.01939766), (22.943145752, 10.935533904))
            Line((22.943145752, 10.935533904), (24.635533898, 9.243145757))
            ThreePointArc((24.635533898, 9.243145757), (25.719397655, 7.621029013), (26.099999992, 5.707611851))
            Line((26.099999992, 5.707611851), (26.099999992, 4.499999993))
            ThreePointArc((26.099999992, 4.499999993), (25.367766954, 2.73223305), (23.600000019, 1.999999995))
            ThreePointArc((23.600000019, 1.999999995), (23.246446625, 2.146446603), (23.100000014, 2.499999995))
            Line((23.100000014, 2.499999995), (23.100000014, 4.149999994))
            ThreePointArc((23.100000014, 4.149999994), (22.953553405, 4.503553383), (22.600000016, 4.649999992))
            Line((22.600000016, 4.649999992), (21.100000017, 4.649999992))
            ThreePointArc((21.100000017, 4.649999992), (20.392893235, 4.357106773), (20.100000016, 3.649999992))
            Line((20.100000016, 3.649999992), (20.100000016, 2.000000008))
        make_face(mode=Mode.SUBTRACT)
    extrude(amount=-AUFSATZ_LINEAR_AUSTRAGEN1_DEPTH)


solid = part.part
